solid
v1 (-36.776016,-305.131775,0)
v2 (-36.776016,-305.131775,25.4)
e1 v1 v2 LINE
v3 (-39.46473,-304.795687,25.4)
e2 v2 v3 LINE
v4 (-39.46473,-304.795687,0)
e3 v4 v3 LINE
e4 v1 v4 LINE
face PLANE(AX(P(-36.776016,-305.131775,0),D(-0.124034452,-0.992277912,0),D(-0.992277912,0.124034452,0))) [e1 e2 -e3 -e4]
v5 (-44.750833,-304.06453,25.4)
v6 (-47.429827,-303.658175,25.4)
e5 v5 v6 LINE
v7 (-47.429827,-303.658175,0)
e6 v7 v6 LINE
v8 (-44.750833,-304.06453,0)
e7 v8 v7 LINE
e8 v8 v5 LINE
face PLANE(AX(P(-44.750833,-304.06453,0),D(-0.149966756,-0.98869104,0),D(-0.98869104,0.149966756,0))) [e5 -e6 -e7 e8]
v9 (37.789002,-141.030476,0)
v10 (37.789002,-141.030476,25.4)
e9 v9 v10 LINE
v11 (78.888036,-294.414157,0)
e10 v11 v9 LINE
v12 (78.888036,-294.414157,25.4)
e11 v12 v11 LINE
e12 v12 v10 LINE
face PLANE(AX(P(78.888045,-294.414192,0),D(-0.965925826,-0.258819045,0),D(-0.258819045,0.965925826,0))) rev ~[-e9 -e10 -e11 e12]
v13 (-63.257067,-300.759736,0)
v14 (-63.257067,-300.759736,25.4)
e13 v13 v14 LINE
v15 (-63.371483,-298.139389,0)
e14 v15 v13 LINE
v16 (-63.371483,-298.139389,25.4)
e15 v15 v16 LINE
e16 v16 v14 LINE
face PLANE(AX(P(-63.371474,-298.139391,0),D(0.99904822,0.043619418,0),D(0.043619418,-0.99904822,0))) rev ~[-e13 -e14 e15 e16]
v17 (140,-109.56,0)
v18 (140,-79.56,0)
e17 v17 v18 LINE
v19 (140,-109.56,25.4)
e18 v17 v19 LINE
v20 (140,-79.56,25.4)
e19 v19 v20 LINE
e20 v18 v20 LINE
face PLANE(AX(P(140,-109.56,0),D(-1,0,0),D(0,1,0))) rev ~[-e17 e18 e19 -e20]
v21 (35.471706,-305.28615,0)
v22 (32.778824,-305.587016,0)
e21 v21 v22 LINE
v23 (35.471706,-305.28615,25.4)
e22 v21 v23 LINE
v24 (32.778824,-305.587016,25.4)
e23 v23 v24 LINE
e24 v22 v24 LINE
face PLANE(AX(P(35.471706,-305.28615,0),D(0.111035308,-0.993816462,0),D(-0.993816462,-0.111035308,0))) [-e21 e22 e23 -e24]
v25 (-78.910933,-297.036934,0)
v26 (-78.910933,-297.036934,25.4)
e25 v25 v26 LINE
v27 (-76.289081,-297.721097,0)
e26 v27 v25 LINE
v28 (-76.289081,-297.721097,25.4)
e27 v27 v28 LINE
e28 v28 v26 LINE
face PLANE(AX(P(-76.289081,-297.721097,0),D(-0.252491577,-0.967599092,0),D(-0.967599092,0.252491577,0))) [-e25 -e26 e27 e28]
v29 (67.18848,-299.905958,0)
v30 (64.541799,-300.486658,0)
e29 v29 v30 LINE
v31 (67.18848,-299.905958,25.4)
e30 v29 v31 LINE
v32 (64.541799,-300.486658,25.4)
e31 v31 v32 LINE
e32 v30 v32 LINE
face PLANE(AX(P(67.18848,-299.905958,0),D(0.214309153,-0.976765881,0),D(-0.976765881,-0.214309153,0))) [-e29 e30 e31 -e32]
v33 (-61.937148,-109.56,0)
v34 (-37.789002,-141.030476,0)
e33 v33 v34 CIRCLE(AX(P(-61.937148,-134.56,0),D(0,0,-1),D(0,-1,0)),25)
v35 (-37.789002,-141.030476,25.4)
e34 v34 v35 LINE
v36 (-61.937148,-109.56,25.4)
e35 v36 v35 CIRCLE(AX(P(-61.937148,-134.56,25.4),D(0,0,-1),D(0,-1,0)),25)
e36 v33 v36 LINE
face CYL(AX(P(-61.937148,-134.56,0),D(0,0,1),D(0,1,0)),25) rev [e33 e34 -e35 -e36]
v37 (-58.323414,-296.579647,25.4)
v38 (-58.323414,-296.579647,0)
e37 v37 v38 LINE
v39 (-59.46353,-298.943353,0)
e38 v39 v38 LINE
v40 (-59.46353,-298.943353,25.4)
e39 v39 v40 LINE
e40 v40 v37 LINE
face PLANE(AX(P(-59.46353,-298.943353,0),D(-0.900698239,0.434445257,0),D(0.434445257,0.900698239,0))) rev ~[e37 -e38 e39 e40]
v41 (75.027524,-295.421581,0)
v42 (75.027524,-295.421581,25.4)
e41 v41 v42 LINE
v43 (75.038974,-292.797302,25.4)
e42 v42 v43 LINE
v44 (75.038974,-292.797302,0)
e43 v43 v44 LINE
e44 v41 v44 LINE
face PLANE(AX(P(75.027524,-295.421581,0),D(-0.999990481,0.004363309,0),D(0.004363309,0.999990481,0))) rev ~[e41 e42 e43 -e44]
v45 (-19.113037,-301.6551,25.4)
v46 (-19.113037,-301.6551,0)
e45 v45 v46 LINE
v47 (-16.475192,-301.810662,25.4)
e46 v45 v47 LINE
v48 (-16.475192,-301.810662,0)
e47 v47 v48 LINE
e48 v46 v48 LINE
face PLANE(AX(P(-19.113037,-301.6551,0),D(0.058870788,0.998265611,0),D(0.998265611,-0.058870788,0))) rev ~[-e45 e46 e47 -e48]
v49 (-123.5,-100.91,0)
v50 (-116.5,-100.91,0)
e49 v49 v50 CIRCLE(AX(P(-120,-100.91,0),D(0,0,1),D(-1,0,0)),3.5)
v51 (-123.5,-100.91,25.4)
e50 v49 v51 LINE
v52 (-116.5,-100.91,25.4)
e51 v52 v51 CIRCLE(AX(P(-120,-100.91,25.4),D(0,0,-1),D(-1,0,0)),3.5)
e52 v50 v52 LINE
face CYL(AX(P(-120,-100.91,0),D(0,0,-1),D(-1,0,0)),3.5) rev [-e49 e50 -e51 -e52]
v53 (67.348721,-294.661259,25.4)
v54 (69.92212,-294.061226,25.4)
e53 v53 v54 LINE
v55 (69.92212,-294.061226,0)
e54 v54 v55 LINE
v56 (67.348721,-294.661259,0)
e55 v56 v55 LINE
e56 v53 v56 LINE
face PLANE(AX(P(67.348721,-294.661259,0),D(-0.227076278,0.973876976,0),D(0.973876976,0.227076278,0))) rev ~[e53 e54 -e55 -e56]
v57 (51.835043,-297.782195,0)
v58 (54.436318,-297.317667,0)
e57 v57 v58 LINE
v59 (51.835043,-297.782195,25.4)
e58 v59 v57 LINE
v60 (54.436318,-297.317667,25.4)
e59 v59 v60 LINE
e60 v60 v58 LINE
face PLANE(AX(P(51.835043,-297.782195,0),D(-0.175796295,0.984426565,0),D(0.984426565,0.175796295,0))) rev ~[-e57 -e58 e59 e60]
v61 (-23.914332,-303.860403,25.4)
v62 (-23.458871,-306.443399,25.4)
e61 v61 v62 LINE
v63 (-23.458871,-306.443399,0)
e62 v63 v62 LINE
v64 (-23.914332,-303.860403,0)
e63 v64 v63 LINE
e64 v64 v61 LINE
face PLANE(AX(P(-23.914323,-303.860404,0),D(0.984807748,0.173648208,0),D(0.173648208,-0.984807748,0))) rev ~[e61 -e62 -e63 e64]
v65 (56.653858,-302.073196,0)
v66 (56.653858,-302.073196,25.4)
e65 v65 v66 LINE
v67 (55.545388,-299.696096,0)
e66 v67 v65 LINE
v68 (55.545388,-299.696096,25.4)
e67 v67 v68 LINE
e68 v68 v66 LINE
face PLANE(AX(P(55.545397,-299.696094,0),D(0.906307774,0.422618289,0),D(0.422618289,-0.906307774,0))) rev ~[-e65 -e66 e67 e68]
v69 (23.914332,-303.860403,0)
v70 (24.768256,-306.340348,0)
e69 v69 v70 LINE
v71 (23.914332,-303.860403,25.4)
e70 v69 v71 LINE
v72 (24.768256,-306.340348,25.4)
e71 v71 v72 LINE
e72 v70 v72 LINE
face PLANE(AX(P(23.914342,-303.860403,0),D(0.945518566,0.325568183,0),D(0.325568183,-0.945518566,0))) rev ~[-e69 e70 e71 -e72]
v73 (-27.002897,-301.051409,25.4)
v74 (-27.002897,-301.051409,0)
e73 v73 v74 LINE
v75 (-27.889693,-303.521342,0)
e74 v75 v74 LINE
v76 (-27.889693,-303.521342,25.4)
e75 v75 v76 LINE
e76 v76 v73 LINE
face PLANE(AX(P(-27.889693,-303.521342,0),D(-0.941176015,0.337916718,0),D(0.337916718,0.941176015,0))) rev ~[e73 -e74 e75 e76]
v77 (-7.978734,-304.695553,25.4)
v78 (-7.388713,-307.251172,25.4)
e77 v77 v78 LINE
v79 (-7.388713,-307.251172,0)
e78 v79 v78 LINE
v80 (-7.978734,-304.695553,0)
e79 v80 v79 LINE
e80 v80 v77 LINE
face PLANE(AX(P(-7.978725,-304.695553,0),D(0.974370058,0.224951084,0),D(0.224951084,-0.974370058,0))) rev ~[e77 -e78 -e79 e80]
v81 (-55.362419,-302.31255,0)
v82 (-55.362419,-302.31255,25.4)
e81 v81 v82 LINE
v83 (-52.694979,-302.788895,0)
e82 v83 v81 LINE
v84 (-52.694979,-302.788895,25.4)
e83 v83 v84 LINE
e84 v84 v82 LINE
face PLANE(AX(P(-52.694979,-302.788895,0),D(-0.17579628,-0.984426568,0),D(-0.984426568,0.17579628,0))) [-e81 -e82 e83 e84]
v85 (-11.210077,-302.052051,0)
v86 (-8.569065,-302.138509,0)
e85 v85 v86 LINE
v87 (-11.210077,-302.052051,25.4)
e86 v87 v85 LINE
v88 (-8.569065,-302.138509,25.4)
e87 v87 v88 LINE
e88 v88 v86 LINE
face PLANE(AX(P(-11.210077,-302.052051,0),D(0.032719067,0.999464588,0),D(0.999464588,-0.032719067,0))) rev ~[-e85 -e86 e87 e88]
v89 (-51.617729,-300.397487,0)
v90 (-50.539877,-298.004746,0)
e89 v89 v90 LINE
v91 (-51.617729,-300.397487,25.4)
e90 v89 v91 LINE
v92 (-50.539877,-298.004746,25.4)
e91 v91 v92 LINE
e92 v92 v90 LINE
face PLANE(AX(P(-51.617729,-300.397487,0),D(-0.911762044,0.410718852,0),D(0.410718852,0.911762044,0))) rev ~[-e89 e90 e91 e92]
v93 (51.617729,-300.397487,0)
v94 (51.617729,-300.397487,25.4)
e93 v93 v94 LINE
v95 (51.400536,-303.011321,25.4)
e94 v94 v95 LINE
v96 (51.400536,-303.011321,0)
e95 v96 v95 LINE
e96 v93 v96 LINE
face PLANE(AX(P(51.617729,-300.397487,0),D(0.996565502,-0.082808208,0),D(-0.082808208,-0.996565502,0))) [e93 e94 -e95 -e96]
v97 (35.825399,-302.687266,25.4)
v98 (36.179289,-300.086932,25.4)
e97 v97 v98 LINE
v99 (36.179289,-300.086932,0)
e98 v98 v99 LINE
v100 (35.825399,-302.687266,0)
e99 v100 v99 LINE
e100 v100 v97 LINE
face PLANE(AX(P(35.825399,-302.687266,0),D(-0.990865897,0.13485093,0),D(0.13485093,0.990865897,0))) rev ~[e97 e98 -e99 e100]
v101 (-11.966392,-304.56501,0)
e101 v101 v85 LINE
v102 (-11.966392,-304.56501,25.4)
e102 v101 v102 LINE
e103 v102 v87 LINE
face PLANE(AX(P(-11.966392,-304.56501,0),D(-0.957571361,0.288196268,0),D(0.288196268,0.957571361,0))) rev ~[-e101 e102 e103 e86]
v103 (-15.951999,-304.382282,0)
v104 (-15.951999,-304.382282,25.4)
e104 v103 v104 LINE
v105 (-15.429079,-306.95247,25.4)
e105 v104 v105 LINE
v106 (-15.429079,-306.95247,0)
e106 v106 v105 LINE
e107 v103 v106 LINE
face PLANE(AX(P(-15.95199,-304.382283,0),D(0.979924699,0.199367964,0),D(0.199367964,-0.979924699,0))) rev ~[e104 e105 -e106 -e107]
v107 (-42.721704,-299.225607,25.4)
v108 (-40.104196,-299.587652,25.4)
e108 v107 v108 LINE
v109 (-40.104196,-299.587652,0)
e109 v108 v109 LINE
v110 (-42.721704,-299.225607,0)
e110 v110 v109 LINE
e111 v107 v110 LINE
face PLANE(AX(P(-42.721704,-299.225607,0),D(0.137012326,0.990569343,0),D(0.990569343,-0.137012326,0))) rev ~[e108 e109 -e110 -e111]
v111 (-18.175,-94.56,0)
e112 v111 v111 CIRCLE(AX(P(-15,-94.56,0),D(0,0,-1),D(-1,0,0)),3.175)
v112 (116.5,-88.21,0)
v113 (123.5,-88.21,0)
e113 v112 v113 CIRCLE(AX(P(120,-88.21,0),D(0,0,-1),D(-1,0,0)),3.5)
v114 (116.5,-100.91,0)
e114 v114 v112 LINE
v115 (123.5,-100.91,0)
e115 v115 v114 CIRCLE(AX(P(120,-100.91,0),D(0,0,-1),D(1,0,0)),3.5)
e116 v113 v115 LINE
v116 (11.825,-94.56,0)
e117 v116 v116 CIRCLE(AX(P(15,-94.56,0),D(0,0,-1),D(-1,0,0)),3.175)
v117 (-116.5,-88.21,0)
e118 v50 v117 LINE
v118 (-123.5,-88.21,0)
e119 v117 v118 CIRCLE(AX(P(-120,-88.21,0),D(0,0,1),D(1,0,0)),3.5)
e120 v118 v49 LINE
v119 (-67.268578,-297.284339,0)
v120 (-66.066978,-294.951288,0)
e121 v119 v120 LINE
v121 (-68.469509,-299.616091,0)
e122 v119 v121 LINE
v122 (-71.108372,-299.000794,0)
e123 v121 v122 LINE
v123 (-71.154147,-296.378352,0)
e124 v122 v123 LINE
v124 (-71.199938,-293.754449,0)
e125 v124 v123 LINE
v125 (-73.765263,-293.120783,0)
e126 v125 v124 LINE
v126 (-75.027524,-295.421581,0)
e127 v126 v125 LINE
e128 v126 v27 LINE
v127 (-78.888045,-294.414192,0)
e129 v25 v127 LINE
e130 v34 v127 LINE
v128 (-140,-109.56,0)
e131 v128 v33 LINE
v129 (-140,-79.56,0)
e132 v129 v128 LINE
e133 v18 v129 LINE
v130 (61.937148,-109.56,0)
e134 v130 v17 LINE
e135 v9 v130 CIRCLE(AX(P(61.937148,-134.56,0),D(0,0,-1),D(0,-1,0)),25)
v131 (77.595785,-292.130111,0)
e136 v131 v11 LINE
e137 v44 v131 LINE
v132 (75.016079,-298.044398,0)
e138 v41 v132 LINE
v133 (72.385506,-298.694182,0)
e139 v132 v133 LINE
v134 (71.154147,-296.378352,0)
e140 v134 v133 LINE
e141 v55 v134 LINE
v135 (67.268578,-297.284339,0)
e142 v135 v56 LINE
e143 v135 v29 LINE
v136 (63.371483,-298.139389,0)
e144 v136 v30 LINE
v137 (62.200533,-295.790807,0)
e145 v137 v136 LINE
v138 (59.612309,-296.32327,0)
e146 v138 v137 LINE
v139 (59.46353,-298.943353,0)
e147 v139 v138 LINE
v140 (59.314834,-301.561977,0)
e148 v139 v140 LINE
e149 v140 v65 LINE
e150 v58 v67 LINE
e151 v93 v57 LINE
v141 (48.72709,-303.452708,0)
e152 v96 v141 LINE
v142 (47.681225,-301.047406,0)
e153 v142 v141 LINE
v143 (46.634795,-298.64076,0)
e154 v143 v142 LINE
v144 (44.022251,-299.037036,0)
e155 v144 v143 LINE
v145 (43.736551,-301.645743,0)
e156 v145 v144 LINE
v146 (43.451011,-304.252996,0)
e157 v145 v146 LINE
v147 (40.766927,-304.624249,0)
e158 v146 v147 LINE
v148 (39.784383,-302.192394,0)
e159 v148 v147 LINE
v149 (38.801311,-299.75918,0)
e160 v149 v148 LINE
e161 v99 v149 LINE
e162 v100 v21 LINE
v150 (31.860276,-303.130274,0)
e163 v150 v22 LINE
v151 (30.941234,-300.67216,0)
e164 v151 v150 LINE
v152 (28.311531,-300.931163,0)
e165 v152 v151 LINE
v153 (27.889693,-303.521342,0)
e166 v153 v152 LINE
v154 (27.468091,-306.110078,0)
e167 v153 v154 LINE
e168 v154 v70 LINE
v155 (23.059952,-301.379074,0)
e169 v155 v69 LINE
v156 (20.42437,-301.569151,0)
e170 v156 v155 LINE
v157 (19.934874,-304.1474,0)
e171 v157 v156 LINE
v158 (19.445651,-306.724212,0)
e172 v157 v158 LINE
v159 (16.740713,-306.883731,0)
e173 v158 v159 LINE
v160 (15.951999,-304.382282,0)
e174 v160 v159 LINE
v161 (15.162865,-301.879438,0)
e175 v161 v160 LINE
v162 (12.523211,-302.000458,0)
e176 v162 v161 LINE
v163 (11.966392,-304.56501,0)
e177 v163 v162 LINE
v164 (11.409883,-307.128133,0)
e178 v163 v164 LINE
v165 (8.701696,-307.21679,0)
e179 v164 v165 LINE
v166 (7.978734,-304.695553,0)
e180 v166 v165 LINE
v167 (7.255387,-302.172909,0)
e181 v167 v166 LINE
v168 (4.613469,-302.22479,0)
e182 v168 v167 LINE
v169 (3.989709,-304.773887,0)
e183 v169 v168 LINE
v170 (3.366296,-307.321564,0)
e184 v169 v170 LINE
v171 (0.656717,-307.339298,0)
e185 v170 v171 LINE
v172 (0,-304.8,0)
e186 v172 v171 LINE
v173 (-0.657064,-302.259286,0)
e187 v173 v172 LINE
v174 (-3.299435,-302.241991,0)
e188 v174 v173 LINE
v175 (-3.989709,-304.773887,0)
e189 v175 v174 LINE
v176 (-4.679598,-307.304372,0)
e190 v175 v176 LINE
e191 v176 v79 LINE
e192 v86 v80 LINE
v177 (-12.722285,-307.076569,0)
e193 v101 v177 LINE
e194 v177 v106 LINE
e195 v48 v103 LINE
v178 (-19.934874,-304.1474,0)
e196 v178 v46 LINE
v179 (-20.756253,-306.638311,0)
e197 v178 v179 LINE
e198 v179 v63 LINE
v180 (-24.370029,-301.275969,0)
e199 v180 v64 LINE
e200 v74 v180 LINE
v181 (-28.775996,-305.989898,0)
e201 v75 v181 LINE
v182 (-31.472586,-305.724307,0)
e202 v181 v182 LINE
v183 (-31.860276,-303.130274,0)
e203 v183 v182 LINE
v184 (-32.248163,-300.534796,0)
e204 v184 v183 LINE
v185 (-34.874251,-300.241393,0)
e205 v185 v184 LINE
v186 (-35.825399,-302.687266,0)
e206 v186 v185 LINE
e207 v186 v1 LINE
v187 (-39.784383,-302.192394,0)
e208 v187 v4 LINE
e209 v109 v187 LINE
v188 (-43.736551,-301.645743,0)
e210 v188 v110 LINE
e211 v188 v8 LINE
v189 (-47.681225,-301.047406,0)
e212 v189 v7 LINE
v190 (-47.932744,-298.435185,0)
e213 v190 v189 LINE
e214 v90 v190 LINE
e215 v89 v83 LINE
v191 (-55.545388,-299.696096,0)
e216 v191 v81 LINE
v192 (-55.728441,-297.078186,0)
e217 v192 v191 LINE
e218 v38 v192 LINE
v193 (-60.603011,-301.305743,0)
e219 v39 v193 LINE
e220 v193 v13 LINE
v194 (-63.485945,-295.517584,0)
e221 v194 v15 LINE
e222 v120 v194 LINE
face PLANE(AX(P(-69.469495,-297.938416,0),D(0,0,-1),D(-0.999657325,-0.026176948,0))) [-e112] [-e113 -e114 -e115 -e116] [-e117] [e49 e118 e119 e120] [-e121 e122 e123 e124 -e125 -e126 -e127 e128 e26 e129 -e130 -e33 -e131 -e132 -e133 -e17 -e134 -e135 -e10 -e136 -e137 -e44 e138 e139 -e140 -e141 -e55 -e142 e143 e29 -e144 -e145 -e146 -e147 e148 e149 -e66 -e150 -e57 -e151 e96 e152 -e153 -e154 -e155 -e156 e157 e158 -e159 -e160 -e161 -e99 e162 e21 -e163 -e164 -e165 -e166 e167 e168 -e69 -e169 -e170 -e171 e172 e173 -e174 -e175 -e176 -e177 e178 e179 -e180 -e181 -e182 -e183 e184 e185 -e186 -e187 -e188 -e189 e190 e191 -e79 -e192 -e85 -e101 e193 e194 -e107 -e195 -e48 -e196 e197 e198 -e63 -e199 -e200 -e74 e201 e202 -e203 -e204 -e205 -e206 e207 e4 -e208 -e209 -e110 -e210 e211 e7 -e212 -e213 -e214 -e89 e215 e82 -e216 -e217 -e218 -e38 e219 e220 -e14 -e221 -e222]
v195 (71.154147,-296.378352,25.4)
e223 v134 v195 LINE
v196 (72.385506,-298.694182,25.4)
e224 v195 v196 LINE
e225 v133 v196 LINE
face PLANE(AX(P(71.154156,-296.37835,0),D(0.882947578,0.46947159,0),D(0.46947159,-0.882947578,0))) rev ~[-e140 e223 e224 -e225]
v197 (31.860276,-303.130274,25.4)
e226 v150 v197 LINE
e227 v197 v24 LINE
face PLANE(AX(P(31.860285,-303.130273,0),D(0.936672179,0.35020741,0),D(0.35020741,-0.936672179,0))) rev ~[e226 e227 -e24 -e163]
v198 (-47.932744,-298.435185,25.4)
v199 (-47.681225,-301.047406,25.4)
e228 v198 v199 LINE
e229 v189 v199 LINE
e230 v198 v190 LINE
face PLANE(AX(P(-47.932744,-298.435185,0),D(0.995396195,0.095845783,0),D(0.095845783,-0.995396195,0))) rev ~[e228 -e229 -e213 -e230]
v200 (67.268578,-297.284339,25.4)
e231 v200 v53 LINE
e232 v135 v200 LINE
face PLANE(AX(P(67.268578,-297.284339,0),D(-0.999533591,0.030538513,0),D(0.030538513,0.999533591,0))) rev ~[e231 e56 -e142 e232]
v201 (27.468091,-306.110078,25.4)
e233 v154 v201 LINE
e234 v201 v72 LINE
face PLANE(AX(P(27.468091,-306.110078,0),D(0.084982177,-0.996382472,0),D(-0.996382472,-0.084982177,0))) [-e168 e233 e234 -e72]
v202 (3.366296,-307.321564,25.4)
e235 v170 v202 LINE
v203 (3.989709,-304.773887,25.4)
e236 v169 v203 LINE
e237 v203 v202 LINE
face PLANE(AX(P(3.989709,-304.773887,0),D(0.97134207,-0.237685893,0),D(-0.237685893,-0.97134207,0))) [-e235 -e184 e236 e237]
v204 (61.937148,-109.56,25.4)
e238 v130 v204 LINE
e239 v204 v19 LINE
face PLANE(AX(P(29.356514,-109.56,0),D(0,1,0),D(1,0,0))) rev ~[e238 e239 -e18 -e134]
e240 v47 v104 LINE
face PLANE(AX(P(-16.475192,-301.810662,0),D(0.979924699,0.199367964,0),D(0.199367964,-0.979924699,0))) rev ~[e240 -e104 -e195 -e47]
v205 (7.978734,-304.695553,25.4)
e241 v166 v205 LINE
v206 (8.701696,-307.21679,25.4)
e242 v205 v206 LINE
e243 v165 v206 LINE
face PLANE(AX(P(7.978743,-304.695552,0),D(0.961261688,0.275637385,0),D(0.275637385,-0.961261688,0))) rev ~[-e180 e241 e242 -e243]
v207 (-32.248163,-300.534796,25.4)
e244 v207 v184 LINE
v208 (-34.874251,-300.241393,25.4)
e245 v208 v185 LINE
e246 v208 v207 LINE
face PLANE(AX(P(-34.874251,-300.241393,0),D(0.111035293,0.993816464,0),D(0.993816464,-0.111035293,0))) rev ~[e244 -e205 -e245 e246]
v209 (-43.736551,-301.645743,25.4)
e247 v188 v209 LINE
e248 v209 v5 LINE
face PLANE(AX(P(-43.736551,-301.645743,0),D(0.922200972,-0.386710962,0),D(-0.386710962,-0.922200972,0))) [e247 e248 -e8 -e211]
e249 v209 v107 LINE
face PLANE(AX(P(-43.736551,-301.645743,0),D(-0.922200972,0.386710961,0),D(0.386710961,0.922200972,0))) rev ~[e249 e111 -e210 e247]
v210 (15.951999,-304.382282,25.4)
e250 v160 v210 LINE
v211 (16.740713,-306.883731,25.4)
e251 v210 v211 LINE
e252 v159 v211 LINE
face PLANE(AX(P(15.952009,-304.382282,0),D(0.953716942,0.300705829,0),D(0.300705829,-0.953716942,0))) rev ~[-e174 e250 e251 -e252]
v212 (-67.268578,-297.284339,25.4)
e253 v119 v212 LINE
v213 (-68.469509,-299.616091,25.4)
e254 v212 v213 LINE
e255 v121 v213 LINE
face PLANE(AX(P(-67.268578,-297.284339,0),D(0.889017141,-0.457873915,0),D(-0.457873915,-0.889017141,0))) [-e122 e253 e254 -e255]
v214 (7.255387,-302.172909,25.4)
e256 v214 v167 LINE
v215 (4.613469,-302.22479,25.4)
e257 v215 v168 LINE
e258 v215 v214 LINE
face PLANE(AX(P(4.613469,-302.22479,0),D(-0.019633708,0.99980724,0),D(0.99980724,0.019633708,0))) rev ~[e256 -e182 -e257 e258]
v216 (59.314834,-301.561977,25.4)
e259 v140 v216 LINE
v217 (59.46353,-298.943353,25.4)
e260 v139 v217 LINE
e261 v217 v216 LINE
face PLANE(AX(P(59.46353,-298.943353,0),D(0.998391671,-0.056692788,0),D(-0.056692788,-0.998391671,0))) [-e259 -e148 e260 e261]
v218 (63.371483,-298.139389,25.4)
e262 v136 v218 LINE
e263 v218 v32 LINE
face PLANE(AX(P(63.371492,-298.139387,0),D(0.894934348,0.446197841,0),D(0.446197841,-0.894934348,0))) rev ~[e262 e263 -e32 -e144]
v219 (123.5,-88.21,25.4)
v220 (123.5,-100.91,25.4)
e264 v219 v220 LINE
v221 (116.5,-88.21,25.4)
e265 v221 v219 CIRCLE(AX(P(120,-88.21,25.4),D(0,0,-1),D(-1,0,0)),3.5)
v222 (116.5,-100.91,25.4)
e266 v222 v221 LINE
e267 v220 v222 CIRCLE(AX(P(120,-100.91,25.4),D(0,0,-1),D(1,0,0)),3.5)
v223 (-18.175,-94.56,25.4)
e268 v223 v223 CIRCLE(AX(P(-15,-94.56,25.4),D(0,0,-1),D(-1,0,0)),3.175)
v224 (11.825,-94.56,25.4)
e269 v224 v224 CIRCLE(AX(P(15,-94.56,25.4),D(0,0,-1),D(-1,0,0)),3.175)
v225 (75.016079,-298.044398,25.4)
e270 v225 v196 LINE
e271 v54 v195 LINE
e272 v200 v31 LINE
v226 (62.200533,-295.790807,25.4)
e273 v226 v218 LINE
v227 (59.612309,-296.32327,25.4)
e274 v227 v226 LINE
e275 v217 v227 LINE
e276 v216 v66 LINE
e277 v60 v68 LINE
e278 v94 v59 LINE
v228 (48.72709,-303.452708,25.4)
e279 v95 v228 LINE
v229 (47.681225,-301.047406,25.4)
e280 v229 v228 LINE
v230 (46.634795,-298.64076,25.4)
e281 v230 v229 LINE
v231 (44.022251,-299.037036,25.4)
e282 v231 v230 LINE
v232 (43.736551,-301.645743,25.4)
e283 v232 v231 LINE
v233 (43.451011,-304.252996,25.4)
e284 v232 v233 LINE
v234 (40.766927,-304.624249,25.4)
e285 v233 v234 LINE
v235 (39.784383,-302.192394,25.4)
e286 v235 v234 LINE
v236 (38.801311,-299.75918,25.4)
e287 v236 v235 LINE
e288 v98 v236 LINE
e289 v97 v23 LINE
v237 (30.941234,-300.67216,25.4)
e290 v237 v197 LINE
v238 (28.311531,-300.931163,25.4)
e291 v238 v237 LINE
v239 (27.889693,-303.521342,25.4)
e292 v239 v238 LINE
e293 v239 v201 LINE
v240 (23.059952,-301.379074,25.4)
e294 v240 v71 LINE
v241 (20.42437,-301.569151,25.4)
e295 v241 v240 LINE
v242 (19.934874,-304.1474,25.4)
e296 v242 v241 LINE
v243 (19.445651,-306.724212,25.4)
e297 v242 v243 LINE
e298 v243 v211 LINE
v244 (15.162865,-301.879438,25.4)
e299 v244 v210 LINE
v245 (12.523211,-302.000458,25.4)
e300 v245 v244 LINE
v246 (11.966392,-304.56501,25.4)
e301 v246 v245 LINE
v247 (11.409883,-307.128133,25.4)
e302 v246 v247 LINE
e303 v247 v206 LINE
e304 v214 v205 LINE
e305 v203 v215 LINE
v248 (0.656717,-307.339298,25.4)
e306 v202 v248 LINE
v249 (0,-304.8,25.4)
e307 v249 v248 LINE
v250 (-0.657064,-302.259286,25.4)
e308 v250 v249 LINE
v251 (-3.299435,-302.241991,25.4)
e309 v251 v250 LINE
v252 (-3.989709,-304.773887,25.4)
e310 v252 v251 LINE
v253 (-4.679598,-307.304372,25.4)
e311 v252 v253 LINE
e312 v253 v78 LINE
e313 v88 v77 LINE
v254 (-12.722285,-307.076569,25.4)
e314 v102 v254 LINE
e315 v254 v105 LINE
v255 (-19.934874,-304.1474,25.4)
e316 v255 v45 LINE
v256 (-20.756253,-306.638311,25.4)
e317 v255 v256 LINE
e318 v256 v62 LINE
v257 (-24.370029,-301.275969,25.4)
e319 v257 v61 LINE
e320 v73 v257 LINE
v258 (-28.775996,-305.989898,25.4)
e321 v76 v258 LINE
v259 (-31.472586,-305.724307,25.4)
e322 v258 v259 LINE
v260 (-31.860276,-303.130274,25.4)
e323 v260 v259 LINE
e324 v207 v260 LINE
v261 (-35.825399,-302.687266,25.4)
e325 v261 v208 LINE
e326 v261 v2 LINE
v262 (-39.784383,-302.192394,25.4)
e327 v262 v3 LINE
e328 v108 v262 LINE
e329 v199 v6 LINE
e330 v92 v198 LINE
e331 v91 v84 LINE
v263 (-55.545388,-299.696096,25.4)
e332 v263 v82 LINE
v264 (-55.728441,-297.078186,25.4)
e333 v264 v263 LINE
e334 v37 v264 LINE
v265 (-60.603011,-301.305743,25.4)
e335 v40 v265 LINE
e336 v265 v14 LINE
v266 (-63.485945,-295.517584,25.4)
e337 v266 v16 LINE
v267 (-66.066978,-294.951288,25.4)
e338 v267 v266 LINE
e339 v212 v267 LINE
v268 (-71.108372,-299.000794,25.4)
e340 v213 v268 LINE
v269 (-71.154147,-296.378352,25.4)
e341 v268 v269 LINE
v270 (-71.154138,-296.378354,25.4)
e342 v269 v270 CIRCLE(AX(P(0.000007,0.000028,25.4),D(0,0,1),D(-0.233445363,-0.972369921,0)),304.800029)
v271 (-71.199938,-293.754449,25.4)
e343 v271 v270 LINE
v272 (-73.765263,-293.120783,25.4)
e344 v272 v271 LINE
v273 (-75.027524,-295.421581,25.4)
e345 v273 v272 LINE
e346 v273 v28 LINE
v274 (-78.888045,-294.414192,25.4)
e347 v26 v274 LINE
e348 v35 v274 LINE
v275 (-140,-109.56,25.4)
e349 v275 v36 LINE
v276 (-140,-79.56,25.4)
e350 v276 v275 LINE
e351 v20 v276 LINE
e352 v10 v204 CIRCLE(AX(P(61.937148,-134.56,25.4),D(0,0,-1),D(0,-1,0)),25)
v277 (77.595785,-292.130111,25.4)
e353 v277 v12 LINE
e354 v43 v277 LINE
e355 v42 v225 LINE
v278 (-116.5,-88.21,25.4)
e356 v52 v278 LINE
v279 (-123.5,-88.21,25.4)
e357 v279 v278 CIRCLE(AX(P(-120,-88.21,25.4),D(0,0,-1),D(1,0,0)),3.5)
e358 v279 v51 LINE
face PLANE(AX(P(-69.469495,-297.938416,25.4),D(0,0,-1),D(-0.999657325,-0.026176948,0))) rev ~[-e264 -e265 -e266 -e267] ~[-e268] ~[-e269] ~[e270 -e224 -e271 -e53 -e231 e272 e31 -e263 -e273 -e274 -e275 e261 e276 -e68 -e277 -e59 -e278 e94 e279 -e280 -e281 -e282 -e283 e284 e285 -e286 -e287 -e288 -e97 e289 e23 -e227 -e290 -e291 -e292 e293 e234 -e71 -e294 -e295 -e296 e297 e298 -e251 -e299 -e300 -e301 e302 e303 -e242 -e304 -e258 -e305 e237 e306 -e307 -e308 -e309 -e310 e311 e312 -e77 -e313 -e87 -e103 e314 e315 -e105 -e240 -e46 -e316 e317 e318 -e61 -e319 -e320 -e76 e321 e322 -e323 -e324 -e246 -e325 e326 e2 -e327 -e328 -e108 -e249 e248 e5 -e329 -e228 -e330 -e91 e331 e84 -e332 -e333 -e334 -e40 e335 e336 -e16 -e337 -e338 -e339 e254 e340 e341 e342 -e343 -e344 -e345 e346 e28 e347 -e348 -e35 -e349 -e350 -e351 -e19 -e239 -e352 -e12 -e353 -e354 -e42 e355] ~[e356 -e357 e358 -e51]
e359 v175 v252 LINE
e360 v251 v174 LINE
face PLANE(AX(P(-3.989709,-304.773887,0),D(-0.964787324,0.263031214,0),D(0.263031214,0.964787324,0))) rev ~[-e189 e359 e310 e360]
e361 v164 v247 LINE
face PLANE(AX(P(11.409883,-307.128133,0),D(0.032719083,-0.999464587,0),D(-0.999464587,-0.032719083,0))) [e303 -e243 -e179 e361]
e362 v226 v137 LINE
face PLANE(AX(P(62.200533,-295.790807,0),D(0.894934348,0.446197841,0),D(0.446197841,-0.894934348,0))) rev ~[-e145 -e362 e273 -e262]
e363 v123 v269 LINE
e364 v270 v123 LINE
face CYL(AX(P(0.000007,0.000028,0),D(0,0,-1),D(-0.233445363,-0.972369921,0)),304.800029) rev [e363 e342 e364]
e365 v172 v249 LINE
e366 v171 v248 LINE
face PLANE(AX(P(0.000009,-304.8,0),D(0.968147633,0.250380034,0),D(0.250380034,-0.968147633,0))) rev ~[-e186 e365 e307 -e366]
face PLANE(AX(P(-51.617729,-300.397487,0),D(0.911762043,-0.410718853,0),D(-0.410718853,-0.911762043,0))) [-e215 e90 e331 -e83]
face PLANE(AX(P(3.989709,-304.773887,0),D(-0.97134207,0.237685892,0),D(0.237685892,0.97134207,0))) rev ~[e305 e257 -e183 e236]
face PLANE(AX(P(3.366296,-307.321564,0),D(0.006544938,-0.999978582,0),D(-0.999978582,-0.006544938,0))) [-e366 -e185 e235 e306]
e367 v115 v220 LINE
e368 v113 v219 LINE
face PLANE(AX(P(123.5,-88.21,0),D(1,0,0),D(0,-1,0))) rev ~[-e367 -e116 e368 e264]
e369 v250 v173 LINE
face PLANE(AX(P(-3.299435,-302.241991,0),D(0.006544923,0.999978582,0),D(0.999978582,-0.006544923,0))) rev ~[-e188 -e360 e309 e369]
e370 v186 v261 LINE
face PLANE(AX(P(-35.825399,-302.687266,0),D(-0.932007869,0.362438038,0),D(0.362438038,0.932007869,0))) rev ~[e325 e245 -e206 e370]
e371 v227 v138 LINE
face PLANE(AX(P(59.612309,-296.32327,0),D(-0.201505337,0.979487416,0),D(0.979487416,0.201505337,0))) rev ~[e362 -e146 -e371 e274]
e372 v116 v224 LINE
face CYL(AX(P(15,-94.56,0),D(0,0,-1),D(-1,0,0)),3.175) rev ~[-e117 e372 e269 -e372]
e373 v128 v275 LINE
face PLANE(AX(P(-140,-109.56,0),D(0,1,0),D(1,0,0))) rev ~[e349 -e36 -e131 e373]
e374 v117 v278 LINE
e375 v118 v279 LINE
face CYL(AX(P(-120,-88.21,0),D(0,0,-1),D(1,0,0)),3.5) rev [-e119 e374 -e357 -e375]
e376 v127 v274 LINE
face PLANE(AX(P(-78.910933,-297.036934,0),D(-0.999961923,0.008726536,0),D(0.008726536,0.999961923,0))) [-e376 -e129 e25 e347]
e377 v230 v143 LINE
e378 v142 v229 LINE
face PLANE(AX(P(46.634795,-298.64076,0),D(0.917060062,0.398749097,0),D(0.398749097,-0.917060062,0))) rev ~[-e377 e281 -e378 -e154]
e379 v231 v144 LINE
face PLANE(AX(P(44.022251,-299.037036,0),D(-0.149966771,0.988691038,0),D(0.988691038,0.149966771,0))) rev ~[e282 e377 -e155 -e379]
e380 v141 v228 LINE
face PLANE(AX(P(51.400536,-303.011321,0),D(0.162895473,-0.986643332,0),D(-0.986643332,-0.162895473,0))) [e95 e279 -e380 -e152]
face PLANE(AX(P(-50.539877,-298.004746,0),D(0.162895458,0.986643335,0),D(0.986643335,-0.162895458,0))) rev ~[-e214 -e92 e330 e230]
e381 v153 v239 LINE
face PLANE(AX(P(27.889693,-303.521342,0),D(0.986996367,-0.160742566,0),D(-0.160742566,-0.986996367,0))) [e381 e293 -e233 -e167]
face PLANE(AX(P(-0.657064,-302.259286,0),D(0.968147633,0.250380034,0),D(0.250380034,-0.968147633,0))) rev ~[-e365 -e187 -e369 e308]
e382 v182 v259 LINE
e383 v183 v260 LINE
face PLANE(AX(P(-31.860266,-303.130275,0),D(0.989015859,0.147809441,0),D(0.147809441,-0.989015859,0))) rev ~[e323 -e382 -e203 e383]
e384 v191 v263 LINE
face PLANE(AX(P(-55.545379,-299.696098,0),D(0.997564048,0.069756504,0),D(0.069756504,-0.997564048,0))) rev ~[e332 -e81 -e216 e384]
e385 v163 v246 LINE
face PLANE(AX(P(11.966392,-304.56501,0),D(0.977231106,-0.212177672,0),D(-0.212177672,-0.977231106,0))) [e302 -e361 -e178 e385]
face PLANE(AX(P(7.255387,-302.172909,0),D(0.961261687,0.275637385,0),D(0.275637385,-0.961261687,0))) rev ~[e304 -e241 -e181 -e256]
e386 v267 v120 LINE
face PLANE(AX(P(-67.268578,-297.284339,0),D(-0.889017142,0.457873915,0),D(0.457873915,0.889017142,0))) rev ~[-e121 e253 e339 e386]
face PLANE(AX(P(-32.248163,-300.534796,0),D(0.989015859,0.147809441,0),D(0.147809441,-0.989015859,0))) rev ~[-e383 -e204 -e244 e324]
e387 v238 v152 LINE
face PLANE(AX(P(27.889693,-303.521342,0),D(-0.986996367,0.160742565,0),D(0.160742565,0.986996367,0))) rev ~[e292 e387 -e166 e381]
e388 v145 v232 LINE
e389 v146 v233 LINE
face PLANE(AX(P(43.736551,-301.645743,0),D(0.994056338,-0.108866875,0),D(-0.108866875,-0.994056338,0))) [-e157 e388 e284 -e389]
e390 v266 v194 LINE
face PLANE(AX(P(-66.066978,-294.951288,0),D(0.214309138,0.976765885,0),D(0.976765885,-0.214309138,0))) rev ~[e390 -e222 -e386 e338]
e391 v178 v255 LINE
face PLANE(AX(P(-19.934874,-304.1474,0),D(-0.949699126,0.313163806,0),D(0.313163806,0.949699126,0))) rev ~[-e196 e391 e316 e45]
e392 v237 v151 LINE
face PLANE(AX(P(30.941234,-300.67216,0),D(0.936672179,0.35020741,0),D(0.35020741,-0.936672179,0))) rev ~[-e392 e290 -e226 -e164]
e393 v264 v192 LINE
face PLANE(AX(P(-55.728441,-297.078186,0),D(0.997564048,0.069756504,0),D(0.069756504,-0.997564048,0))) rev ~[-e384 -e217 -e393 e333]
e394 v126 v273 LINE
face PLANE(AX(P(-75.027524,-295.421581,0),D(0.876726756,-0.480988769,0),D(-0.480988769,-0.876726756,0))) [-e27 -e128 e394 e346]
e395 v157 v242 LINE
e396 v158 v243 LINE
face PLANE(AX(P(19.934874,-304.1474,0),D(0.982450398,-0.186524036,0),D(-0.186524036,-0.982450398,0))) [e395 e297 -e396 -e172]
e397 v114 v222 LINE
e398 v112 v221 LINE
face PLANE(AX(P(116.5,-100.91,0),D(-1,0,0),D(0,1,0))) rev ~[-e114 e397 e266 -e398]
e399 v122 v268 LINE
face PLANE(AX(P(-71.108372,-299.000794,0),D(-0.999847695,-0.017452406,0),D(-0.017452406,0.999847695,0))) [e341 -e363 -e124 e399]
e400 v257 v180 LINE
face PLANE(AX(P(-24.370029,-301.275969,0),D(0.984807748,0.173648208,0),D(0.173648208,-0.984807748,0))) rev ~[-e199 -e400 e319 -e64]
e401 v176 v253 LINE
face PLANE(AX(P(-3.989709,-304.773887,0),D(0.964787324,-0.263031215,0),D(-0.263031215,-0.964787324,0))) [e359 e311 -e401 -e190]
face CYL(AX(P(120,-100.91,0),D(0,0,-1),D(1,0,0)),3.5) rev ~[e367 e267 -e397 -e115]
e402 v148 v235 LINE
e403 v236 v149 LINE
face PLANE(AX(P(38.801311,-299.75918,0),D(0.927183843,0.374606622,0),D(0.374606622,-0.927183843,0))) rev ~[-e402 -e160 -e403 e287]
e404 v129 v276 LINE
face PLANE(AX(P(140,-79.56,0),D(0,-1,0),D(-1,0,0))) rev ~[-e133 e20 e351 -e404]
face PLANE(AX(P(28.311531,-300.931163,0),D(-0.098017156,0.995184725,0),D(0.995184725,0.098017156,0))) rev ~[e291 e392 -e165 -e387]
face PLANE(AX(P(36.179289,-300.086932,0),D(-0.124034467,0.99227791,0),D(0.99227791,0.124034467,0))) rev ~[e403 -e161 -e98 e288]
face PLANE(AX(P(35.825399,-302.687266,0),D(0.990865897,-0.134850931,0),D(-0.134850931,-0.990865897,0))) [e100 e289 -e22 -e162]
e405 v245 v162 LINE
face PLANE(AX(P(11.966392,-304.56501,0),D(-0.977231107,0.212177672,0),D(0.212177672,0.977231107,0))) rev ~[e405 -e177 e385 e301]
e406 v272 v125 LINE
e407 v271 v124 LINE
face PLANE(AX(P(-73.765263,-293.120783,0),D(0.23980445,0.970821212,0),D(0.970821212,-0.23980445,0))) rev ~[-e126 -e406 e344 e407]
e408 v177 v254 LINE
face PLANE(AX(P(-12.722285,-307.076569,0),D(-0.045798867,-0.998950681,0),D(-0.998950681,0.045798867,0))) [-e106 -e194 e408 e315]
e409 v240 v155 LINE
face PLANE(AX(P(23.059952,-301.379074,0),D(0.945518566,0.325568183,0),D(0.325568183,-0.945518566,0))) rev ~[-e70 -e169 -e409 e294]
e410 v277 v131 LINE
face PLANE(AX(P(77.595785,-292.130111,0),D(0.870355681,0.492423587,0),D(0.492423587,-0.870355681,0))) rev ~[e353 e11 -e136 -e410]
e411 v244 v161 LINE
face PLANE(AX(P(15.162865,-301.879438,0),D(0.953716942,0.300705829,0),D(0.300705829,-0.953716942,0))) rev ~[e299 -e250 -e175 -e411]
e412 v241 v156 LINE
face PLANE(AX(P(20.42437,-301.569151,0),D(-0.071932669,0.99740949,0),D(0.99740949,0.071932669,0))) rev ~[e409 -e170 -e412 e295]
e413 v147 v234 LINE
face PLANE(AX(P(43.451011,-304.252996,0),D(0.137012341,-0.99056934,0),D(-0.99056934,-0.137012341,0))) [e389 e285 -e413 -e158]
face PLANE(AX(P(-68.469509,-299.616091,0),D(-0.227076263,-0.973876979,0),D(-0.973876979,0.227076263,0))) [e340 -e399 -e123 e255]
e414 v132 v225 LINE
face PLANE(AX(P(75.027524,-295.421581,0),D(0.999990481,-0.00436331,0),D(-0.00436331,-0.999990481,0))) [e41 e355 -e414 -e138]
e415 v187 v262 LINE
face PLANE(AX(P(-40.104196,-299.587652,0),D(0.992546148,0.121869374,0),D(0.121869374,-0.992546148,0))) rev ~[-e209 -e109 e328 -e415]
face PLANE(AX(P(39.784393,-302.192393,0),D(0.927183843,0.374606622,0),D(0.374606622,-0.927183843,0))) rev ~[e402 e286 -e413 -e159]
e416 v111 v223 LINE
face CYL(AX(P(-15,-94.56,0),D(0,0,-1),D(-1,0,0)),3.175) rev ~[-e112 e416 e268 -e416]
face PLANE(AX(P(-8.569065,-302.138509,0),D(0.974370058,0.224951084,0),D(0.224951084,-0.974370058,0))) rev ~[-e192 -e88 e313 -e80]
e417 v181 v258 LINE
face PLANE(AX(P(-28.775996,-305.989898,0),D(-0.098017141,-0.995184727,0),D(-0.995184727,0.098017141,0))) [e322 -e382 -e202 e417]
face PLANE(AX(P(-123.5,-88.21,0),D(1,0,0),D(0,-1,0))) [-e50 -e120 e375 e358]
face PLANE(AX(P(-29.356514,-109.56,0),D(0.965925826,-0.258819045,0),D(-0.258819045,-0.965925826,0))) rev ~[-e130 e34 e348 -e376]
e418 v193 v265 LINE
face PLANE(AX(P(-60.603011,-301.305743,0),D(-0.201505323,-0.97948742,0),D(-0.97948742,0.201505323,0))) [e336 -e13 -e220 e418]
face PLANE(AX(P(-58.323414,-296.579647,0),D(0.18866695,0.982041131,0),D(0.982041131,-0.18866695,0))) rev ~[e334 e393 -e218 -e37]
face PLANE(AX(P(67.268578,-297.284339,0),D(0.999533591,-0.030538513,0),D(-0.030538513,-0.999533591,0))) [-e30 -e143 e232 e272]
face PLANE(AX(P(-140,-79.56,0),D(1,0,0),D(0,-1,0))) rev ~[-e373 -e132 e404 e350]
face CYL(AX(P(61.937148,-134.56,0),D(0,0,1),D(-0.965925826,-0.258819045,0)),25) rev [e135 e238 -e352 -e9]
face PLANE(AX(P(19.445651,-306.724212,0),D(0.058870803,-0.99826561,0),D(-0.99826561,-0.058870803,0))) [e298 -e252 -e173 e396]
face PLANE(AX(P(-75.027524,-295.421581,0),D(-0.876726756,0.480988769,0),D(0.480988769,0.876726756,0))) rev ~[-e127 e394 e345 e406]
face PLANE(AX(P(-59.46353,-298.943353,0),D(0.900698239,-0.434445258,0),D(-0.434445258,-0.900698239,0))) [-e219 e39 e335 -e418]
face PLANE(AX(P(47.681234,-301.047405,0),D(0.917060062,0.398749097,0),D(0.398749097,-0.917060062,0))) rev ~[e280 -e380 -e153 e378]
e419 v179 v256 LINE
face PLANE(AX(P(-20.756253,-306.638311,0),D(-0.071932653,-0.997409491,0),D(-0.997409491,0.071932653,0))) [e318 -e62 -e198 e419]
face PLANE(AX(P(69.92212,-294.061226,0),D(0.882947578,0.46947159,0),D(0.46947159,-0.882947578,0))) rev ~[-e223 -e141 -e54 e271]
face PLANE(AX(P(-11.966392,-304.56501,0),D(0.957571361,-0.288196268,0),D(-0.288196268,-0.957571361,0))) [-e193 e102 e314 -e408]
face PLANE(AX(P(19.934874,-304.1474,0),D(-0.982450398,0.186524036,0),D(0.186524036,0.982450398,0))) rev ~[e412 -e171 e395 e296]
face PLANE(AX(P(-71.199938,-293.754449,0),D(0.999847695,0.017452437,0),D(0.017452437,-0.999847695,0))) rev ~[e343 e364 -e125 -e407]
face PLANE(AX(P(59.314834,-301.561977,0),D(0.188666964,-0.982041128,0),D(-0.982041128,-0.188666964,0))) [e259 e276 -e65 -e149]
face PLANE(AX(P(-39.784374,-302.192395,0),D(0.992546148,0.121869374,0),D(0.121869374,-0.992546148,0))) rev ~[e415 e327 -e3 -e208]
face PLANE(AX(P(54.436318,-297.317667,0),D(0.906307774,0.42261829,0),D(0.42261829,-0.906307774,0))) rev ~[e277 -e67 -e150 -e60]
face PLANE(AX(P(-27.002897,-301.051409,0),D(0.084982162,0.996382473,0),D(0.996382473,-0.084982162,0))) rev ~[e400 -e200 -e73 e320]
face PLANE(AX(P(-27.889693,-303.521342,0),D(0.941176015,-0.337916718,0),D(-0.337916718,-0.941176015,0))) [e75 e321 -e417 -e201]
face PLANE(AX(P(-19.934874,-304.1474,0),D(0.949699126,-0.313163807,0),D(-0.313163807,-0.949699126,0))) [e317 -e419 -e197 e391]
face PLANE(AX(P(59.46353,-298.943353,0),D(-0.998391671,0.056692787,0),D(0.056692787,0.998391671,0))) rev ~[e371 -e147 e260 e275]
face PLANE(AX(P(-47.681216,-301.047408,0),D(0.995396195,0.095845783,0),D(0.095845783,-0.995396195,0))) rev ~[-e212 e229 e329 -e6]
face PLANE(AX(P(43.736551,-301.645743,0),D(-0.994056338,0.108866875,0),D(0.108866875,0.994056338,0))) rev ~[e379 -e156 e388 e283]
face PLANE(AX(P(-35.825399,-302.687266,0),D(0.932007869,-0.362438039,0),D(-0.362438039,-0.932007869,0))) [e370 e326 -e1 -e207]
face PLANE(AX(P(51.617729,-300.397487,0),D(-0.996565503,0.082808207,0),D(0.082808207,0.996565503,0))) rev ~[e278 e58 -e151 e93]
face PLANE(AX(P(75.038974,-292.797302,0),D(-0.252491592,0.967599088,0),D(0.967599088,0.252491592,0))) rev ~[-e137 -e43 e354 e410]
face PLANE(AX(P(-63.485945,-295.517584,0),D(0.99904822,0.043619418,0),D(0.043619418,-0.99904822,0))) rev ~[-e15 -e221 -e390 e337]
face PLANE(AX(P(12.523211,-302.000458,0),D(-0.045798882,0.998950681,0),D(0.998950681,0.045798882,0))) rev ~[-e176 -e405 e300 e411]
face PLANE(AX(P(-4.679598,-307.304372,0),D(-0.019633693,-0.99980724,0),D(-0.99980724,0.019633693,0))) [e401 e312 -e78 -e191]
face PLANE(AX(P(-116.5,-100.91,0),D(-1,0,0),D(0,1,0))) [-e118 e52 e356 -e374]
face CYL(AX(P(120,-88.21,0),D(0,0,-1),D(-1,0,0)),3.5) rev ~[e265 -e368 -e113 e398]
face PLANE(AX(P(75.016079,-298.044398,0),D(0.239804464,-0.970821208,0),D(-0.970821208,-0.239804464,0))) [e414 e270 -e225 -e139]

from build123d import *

# Parameters (mm, degrees)
BOSS_EXTRUDE2_DEPTH = 25.4
FILLET1_R           = 25
BOSS_EXTRUDE4_DEPTH = 25.4
CUT_EXTRUDE2_DEPTH  = 337.375088257
CIRPATTERN8_COUNT   = 20
CIRPATTERN8_ANGLE   = 28.5
SKETCH5_R           = 3.175
CUT_EXTRUDE3_DEPTH  = 339.677729262


with BuildPart() as part:
    # Sketch3 → Boss-Extrude2 (new body)
    with BuildSketch(Plane.XY):
        with BuildLine():
            Line((-140, -79.56), (-140, -109.56))
            Line((-140, -109.56), (-29.356513523, -109.56))
            Line((-29.356513523, -109.56), (-78.888044947, -294.414191853))
            ThreePointArc((-78.888044947, -294.414191853), (0, -304.8), (78.888044947, -294.414191853))
            Line((78.888044947, -294.414191853), (29.356513523, -109.56))
            Line((29.356513523, -109.56), (140, -109.56))
            Line((140, -109.56), (140, -79.56))
            Line((140, -79.56), (-140, -79.56))
        make_face()
    extrude(amount=BOSS_EXTRUDE2_DEPTH)

    # Fillet1
    fillet1_edges = [part.edges().sort_by_distance(p)[0] for p in [
        (29.356513523, -109.56, 12.7),
        (-29.356513523, -109.56, 12.7),
    ]]
    fillet(fillet1_edges, radius=FILLET1_R)

    # Sketch14 → Boss-Extrude4 (add)
    with BuildSketch(Plane(origin=(0, 0, 0), x_dir=(-1, 0, 0), z_dir=(0, 0, -1))):
        with BuildLine():
            Line((78.910933272, -297.036934084), (78.888044947, -294.414191853))
            ThreePointArc((78.888044947, -294.414191853), (76.959432674, -294.924203351), (75.027523715, -295.421581279))
            Line((75.027523715, -295.421581279), (76.289081309, -297.721097125))
            Line((76.289081309, -297.721097125), (78.910933272, -297.036934084))
        make_face()
    boss_extrude4 = extrude(amount=-BOSS_EXTRUDE4_DEPTH)

    # Sketch16 → Cut-Extrude2 (cut, symmetric)
    with BuildSketch(Plane(origin=(0, 0, 0), x_dir=(-1, 0, 0), z_dir=(0, 0, -1))):
        Polygon((372.937709596, -838.440145613), (75.027523715, -295.421581279), (73.765262731, -293.12078332), (71.19993834, -293.754449124), (71.154137831, -296.378353915), (60.344615656, -915.654378233), (357.400151379, -2118.250141136), (669.993245319, -2041.035908516), align=None)
    cut_extrude2 = extrude(amount=CUT_EXTRUDE2_DEPTH, both=True, mode=Mode.SUBTRACT)

    # CirPattern8: Boss-Extrude4, Cut-Extrude2 ×20 about axis
    cirpattern8_axis = Axis((0, 0, 0), (0, 0, 1))
    add([boss_extrude4.rotate(cirpattern8_axis, i * CIRPATTERN8_ANGLE / (CIRPATTERN8_COUNT - 1)) for i in range(1, CIRPATTERN8_COUNT)])
    add([cut_extrude2.rotate(cirpattern8_axis, i * CIRPATTERN8_ANGLE / (CIRPATTERN8_COUNT - 1)) for i in range(1, CIRPATTERN8_COUNT)], mode=Mode.SUBTRACT)

    # Sketch5 → Cut-Extrude3 (cut, through all)
    with BuildSketch(Plane(origin=(0, 0, 0), x_dir=(-1, 0, 0), z_dir=(0, 0, -1))):
        with Locations((-15, -94.56)):
            Circle(SKETCH5_R)
        with Locations((15, -94.56)):
            Circle(SKETCH5_R)
        with BuildLine():
            Line((-123.5, -94.56), (-123.5, -100.91))
            ThreePointArc((-123.5, -100.91), (-120, -104.41), (-116.5, -100.91))
            Line((-116.5, -100.91), (-116.5, -94.56))
            Line((-116.5, -94.56), (-116.5, -88.21))
            ThreePointArc((-116.5, -88.21), (-120, -84.71), (-123.5, -88.21))
            Line((-123.5, -88.21), (-123.5, -94.56))
        make_face()
        with BuildLine():
            Line((116.5, -94.56), (116.5, -88.21))
            ThreePointArc((116.5, -88.21), (120, -84.71), (123.5, -88.21))
            Line((123.5, -88.21), (123.5, -94.56))
            Line((123.5, -94.56), (123.5, -100.91))
            ThreePointArc((123.5, -100.91), (120, -104.41), (116.5, -100.91))
            Line((116.5, -100.91), (116.5, -94.56))
        make_face()
    extrude(amount=-CUT_EXTRUDE3_DEPTH, mode=Mode.SUBTRACT)


solid = part.part
